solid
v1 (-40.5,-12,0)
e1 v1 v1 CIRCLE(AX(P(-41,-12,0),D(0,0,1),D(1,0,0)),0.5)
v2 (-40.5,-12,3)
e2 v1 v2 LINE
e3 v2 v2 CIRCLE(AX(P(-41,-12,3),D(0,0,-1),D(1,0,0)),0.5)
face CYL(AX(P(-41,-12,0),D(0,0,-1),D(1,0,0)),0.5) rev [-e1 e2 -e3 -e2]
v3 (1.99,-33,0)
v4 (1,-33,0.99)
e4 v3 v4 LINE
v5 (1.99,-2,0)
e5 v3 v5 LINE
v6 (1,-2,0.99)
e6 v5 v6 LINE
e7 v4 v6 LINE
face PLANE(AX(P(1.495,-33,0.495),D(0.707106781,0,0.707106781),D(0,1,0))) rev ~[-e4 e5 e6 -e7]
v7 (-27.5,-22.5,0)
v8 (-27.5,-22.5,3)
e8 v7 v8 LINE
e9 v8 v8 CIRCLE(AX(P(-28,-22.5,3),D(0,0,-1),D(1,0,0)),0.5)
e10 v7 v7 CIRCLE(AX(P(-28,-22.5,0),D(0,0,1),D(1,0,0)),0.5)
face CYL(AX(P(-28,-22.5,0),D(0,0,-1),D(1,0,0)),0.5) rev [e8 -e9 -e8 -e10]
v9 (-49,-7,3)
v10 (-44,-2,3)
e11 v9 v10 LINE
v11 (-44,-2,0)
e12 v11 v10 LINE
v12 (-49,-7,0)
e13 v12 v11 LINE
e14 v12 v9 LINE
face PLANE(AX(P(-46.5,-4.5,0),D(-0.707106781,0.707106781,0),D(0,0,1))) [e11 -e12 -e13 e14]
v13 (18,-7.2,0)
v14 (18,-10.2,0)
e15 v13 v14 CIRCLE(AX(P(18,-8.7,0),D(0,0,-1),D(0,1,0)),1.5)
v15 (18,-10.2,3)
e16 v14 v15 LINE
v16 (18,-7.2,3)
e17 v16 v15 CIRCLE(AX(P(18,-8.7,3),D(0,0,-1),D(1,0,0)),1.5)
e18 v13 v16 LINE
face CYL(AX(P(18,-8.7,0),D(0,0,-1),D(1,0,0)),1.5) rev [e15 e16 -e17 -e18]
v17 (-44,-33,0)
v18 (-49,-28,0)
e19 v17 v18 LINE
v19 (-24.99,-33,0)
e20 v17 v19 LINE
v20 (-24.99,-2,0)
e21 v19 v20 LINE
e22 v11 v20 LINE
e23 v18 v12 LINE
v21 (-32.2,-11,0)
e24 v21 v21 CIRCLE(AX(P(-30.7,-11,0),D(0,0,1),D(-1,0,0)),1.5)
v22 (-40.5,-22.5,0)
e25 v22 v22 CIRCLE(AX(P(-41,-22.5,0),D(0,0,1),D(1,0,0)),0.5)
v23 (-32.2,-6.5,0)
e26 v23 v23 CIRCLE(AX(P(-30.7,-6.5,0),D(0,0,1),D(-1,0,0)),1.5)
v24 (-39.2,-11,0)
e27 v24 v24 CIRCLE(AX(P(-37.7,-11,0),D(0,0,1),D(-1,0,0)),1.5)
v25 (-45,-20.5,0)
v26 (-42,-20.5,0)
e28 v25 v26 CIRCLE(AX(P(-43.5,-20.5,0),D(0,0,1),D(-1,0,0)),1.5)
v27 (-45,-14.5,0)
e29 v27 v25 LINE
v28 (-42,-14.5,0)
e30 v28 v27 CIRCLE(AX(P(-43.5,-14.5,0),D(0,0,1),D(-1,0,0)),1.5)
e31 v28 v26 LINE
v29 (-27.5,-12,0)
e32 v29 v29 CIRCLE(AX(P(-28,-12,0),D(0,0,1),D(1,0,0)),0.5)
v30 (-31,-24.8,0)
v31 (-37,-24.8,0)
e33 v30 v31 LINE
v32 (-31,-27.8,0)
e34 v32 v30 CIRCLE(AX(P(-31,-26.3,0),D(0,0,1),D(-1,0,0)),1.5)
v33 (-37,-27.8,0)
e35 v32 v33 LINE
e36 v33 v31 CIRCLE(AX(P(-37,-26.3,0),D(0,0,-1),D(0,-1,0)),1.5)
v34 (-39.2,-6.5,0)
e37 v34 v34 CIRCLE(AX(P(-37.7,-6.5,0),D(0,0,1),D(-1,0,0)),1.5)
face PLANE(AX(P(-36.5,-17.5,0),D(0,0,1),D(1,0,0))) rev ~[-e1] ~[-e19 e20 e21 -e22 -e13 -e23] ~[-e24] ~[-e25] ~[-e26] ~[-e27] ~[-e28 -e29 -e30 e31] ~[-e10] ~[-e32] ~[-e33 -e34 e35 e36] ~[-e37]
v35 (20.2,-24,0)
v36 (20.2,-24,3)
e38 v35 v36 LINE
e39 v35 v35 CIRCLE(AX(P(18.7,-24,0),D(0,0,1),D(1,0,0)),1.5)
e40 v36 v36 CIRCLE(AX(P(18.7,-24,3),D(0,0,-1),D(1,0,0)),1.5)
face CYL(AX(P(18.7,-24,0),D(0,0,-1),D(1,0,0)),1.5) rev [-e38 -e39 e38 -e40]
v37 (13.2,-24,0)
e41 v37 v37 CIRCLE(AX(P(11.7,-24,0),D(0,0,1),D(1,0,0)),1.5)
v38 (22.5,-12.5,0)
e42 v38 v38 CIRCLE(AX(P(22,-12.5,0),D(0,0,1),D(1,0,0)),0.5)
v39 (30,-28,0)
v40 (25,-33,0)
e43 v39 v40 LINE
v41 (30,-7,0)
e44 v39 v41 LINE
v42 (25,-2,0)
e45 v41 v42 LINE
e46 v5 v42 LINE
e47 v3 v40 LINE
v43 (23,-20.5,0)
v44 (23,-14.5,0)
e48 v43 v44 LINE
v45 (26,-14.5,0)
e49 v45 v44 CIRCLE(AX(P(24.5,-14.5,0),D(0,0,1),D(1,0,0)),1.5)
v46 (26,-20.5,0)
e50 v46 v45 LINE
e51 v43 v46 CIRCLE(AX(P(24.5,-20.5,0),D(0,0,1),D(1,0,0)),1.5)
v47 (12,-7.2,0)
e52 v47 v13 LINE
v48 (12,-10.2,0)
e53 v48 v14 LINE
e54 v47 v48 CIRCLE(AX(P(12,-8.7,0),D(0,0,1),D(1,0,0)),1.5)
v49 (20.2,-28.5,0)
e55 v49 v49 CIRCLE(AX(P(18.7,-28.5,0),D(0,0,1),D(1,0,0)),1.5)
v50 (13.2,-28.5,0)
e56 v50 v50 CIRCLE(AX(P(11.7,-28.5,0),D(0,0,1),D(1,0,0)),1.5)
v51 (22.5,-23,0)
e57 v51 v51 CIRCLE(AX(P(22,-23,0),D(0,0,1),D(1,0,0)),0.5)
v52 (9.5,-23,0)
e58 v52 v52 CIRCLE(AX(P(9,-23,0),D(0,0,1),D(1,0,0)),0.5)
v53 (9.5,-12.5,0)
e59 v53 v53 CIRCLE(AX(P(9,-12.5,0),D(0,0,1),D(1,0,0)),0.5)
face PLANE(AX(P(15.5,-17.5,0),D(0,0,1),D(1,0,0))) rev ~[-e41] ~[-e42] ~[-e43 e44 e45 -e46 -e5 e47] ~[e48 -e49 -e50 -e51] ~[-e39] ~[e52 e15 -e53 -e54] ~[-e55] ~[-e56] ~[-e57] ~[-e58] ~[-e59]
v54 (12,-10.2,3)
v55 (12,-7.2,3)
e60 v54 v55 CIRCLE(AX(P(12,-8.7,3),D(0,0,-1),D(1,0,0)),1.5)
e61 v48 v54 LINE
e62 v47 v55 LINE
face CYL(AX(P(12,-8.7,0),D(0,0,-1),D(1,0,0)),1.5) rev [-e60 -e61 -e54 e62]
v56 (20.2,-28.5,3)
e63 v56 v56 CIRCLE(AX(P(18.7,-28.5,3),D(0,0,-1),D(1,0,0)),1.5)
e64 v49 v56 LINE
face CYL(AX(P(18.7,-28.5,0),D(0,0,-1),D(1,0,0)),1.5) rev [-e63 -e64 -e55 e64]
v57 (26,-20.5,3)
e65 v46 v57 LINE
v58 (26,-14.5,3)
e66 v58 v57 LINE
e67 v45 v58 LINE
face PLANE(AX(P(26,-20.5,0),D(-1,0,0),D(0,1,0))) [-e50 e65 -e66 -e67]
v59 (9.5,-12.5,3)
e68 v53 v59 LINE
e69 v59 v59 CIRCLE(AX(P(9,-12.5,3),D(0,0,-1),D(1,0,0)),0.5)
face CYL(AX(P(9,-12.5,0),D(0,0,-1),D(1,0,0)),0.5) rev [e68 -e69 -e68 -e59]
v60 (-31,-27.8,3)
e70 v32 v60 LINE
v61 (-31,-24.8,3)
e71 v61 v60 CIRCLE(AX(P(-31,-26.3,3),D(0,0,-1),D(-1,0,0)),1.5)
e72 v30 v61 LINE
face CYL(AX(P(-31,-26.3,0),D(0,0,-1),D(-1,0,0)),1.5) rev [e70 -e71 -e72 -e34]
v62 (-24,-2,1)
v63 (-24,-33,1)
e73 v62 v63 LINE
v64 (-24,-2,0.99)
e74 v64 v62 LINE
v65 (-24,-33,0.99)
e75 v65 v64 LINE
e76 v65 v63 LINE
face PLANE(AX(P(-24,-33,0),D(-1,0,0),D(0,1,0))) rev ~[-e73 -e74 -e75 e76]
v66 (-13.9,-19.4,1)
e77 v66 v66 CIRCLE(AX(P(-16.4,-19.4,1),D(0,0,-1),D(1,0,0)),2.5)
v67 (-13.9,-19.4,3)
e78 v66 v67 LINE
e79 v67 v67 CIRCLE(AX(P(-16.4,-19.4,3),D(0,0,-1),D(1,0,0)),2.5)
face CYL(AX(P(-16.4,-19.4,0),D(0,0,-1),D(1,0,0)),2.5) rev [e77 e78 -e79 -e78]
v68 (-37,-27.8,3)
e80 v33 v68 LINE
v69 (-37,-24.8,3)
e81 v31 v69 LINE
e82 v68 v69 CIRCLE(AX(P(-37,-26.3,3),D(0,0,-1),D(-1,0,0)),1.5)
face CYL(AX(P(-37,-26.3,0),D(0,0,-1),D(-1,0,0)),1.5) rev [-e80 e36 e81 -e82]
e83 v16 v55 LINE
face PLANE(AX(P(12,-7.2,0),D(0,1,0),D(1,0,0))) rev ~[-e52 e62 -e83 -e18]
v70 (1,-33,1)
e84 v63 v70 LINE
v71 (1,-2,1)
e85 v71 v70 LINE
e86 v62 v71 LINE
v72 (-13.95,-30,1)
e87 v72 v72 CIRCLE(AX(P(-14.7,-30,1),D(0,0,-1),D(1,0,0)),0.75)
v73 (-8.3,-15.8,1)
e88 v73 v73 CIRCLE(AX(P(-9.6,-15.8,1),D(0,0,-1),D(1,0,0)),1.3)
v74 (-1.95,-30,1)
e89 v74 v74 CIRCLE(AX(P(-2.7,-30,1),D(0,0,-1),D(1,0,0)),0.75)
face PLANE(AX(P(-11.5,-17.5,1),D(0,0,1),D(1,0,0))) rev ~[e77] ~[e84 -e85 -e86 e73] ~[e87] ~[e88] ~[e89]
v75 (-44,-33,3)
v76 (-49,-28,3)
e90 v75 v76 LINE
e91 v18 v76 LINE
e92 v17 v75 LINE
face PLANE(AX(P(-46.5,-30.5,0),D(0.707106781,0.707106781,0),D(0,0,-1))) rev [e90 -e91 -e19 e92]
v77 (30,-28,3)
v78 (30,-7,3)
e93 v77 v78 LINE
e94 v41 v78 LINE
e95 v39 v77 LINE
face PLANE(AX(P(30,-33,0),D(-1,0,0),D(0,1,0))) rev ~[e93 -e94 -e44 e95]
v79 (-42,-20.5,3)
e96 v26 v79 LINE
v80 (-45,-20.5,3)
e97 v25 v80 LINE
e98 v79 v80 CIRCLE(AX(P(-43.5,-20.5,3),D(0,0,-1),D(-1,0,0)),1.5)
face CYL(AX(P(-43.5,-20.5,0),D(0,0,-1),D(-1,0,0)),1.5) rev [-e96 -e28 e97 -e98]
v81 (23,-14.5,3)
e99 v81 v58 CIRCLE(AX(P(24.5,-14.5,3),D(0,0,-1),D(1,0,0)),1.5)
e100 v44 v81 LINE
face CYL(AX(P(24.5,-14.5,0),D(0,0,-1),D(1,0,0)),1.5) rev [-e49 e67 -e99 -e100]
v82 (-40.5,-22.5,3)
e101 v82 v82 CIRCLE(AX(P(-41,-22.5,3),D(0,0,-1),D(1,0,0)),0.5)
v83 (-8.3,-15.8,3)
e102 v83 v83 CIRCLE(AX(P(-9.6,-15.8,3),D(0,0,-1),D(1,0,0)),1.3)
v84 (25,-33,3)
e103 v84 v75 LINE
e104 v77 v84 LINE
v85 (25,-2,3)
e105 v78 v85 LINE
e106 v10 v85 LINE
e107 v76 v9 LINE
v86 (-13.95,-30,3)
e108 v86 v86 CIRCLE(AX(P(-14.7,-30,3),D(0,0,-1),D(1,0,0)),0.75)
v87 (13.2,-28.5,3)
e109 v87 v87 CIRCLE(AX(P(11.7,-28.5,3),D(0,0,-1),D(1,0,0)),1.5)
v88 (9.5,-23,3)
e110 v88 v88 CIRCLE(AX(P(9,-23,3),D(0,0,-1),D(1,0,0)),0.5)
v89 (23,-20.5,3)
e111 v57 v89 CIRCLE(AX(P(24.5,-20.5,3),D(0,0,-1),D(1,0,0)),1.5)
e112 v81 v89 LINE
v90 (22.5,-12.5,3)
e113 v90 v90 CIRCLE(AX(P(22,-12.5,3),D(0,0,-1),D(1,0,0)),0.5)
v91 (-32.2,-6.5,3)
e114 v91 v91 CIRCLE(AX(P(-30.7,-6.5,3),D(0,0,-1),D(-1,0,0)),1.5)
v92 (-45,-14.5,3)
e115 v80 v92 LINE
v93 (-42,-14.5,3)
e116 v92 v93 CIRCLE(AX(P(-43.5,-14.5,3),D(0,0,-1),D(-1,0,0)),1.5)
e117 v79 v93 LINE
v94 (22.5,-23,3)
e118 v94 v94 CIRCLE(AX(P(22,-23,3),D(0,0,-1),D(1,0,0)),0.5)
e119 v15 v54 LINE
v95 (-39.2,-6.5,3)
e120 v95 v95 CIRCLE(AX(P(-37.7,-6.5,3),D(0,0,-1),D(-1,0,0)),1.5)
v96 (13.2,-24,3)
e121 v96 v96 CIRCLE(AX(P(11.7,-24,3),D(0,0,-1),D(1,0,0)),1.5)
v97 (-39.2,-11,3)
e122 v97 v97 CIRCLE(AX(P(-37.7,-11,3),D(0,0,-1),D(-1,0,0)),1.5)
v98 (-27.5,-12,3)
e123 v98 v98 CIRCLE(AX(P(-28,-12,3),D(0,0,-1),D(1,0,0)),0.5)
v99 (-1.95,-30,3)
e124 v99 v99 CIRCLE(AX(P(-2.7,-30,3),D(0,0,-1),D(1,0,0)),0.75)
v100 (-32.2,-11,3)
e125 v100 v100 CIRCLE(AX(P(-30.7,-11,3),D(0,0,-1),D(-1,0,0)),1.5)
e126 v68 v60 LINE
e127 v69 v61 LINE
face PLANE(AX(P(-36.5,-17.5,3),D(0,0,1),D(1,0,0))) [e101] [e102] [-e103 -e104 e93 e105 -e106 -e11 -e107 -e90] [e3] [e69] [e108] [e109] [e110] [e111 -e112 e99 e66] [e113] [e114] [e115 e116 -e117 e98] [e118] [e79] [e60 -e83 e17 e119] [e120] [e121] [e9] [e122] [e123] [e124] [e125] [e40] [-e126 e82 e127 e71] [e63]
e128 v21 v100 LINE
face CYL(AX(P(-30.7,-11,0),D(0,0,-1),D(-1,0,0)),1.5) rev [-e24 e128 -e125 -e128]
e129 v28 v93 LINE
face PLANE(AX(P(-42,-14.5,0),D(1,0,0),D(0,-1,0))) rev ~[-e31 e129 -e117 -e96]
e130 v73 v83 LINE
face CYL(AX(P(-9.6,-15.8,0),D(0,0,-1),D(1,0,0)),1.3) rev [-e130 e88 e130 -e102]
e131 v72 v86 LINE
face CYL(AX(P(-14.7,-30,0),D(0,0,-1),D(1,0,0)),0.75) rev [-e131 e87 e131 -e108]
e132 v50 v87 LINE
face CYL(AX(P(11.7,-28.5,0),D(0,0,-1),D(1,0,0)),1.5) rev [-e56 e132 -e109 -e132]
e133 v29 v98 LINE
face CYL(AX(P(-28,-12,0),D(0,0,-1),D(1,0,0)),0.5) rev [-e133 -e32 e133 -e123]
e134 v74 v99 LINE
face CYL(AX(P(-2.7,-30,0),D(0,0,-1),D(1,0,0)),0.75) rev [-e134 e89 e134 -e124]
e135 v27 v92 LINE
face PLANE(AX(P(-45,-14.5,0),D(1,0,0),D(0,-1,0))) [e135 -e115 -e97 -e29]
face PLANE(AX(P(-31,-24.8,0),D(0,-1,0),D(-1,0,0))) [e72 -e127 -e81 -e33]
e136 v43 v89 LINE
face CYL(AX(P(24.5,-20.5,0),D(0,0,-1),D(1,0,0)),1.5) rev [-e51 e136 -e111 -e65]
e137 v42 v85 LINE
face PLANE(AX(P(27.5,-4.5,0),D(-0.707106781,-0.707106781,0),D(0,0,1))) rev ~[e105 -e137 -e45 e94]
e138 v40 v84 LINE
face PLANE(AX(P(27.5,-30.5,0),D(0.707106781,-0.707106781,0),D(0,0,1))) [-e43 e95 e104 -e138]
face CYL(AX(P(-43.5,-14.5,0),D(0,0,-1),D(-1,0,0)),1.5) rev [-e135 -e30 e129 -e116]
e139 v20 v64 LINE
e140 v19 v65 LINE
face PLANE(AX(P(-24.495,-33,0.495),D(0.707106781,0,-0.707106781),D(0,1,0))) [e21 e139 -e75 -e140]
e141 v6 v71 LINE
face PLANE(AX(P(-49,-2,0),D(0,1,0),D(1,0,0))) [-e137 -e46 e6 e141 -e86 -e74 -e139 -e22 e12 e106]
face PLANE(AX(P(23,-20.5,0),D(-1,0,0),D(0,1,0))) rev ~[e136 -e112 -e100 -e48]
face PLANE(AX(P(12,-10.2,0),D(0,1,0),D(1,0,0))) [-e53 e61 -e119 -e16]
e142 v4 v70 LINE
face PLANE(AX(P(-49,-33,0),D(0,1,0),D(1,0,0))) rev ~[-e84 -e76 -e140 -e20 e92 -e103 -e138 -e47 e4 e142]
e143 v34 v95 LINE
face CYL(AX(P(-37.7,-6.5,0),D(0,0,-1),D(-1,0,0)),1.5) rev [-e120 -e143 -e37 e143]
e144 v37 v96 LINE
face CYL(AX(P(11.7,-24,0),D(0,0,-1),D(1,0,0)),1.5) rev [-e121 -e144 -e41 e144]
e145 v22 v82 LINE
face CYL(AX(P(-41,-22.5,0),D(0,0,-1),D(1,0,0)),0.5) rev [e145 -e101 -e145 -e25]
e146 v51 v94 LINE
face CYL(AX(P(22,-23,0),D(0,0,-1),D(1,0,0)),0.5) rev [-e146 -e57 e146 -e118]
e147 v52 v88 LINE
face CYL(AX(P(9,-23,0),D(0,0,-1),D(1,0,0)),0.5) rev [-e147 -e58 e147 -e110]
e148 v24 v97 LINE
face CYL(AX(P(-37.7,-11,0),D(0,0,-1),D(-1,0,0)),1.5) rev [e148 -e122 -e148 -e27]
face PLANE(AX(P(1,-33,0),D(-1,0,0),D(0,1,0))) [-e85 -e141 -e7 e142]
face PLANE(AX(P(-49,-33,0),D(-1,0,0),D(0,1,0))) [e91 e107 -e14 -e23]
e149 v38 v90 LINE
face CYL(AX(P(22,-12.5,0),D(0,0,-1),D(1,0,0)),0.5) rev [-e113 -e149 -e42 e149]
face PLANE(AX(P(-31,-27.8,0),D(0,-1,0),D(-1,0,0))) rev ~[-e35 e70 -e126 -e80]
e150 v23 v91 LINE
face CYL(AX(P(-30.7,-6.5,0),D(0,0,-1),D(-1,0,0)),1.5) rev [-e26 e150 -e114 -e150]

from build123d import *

# Parameters (mm, degrees)
CYLINDER025_R             = 0.5
CYLINDER025_DEPTH         = 10
CYLINDER026_R             = 0.5
CYLINDER026_DEPTH         = 10
CYLINDER027_R             = 0.5
CYLINDER027_DEPTH         = 10
CYLINDER024_R             = 0.5
CYLINDER024_DEPTH         = 10
CYLINDER007_R             = 1.5
CYLINDER007_DEPTH         = 10
CYLINDER008_R             = 1.5
CYLINDER008_DEPTH         = 10
CYLINDER009_R             = 1.5
CYLINDER009_DEPTH         = 10
CYLINDER006_R             = 1.5
CYLINDER006_DEPTH         = 10
BOX002_W                  = 3
BOX002_H                  = 6
BOX002_DEPTH              = 10
CYLINDER010_R             = 1.5
CYLINDER010_DEPTH         = 10
CYLINDER011_R             = 1.5
CYLINDER011_DEPTH         = 10
CYLINDER005_R             = 1.5
CYLINDER005_DEPTH         = 10
BOX001_W                  = 6
BOX001_H                  = 3
BOX001_DEPTH              = 10
CYLINDER004_R             = 1.5
CYLINDER004_DEPTH         = 10
BOX005_W                  = 29
BOX005_H                  = 31
BOX005_DEPTH              = 3
CYLINDER021_R             = 0.5
CYLINDER021_DEPTH         = 10
CYLINDER022_R             = 0.5
CYLINDER022_DEPTH         = 10
CYLINDER023_R             = 0.5
CYLINDER023_DEPTH         = 10
CYLINDER020_R             = 0.5
CYLINDER020_DEPTH         = 10
CYLINDER016_R             = 1.5
CYLINDER016_DEPTH         = 10
CYLINDER015_R             = 1.5
CYLINDER015_DEPTH         = 10
CYLINDER018_R             = 1.5
CYLINDER018_DEPTH         = 10
CYLINDER014_R             = 1.5
CYLINDER014_DEPTH         = 10
BOX004_W                  = 3
BOX004_H                  = 6
BOX004_DEPTH              = 10
CYLINDER017_R             = 1.5
CYLINDER017_DEPTH         = 10
CYLINDER019_R             = 1.5
CYLINDER019_DEPTH         = 10
CYLINDER012_R             = 1.5
CYLINDER012_DEPTH         = 10
BOX003_W                  = 6
BOX003_H                  = 3
BOX003_DEPTH              = 10
CYLINDER013_R             = 1.5
CYLINDER013_DEPTH         = 10
FUSION008_PLACEMENT_ANGLE = 180
BOX006_W                  = 25
BOX006_H                  = 31
BOX006_DEPTH              = 3
CYLINDER003_R             = 0.75
CYLINDER003_DEPTH         = 10
CYLINDER002_R             = 0.75
CYLINDER002_DEPTH         = 10
CYLINDER001_R             = 1.3
CYLINDER001_DEPTH         = 10
CYLINDER_R                = 2.5
CYLINDER_DEPTH            = 10
BOX_W                     = 27
BOX_H                     = 31
BOX_DEPTH                 = 2
CHAMFER_SIZE              = 5
CHAMFER001_SIZE           = 5
CHAMFER002_SIZE           = 0.99


with BuildPart() as zylinder025:
    # Cylinder025 → Cylinder025 (new body)
    with BuildSketch(Plane(origin=(-41, -22.5, 0), x_dir=(1, 0, 0), z_dir=(0, 0, 1))):
        Circle(CYLINDER025_R)
    extrude(amount=CYLINDER025_DEPTH)


with BuildPart() as zylinder026:
    # Cylinder026 → Cylinder026 (new body)
    with BuildSketch(Plane(origin=(-28, -12, 0), x_dir=(1, 0, 0), z_dir=(0, 0, 1))):
        Circle(CYLINDER026_R)
    extrude(amount=CYLINDER026_DEPTH)


with BuildPart() as zylinder027:
    # Cylinder027 → Cylinder027 (new body)
    with BuildSketch(Plane(origin=(-28, -22.5, 0), x_dir=(1, 0, 0), z_dir=(0, 0, 1))):
        Circle(CYLINDER027_R)
    extrude(amount=CYLINDER027_DEPTH)


with BuildPart() as fusion010:
    # Cylinder024 → Cylinder024 (new body)
    with BuildSketch(Plane(origin=(-41, -12, 0), x_dir=(1, 0, 0), z_dir=(0, 0, 1))):
        Circle(CYLINDER024_R)
    extrude(amount=CYLINDER024_DEPTH)

    # Fusion010: union Zylinder025, Zylinder026, Zylinder027
    add(zylinder025.part)
    add(zylinder026.part)
    add(zylinder027.part)


with BuildPart() as fusion010_1:
    # Fusion010 placement: moved
    add(fusion010.part.moved(Location((50, -0.5, 0))))


with BuildPart() as zylinder007:
    # Cylinder007 → Cylinder007 (new body)
    with BuildSketch(Plane(origin=(18.7, -24, 0), x_dir=(1, 0, 0), z_dir=(0, 0, 1))):
        Circle(CYLINDER007_R)
    extrude(amount=CYLINDER007_DEPTH)


with BuildPart() as zylinder008:
    # Cylinder008 → Cylinder008 (new body)
    with BuildSketch(Plane(origin=(18.7, -28.5, 0), x_dir=(1, 0, 0), z_dir=(0, 0, 1))):
        Circle(CYLINDER008_R)
    extrude(amount=CYLINDER008_DEPTH)


with BuildPart() as zylinder009:
    # Cylinder009 → Cylinder009 (new body)
    with BuildSketch(Plane(origin=(11.7, -28.5, 0), x_dir=(1, 0, 0), z_dir=(0, 0, 1))):
        Circle(CYLINDER009_R)
    extrude(amount=CYLINDER009_DEPTH)


with BuildPart() as fusion002:
    # Cylinder006 → Cylinder006 (new body)
    with BuildSketch(Plane(origin=(11.7, -24, 0), x_dir=(1, 0, 0), z_dir=(0, 0, 1))):
        Circle(CYLINDER006_R)
    extrude(amount=CYLINDER006_DEPTH)

    # Fusion002: union Zylinder007, Zylinder008, Zylinder009
    add(zylinder007.part)
    add(zylinder008.part)
    add(zylinder009.part)


with BuildPart() as w_rfel002:
    # Box002 → Box002 (new body)
    with BuildSketch(Plane(origin=(23, -20.5, 0), x_dir=(1, 0, 0), z_dir=(0, 0, 1))):
        with Locations((1.5, 3)):
            Rectangle(BOX002_W, BOX002_H)
    extrude(amount=BOX002_DEPTH)


with BuildPart() as zylinder010:
    # Cylinder010 → Cylinder010 (new body)
    with BuildSketch(Plane(origin=(24.5, -14.5, 0), x_dir=(1, 0, 0), z_dir=(0, 0, 1))):
        Circle(CYLINDER010_R)
    extrude(amount=CYLINDER010_DEPTH)


with BuildPart() as fusion003:
    # Cylinder011 → Cylinder011 (new body)
    with BuildSketch(Plane(origin=(24.5, -20.5, 0), x_dir=(1, 0, 0), z_dir=(0, 0, 1))):
        Circle(CYLINDER011_R)
    extrude(amount=CYLINDER011_DEPTH)

    # Fusion003: union Würfel002, Zylinder010
    add(w_rfel002.part)
    add(zylinder010.part)


with BuildPart() as zylinder005:
    # Cylinder005 → Cylinder005 (new body)
    with BuildSketch(Plane(origin=(18, -8.7, 0), x_dir=(1, 0, 0), z_dir=(0, 0, 1))):
        Circle(CYLINDER005_R)
    extrude(amount=CYLINDER005_DEPTH)


with BuildPart() as w_rfel001:
    # Box001 → Box001 (new body)
    with BuildSketch(Plane(origin=(12, -10.2, 0), x_dir=(1, 0, 0), z_dir=(0, 0, 1))):
        with Locations((3, 1.5)):
            Rectangle(BOX001_W, BOX001_H)
    extrude(amount=BOX001_DEPTH)


with BuildPart() as fusion011:
    # Cylinder004 → Cylinder004 (new body)
    with BuildSketch(Plane(origin=(12, -8.7, 0), x_dir=(1, 0, 0), z_dir=(0, 0, 1))):
        Circle(CYLINDER004_R)
    extrude(amount=CYLINDER004_DEPTH)

    # Fusion001: union Zylinder005, Würfel001
    add(zylinder005.part)
    add(w_rfel001.part)

    # Fusion004: union Fusion002, Fusion003
    add(fusion002.part)
    add(fusion003.part)

    # Fusion011: union Fusion010
    add(fusion010_1.part)


with BuildPart() as cut003:
    # Box005 → Box005 (new body)
    with BuildSketch(Plane(origin=(1, -33, 0), x_dir=(1, 0, 0), z_dir=(0, 0, 1))):
        with Locations((14.5, 15.5)):
            Rectangle(BOX005_W, BOX005_H)
    extrude(amount=BOX005_DEPTH)

    # Cut003: cut Fusion011
    add(fusion011.part, mode=Mode.SUBTRACT)


with BuildPart() as zylinder021:
    # Cylinder021 → Cylinder021 (new body)
    with BuildSketch(Plane(origin=(-41, -22.5, 0), x_dir=(1, 0, 0), z_dir=(0, 0, 1))):
        Circle(CYLINDER021_R)
    extrude(amount=CYLINDER021_DEPTH)


with BuildPart() as zylinder022:
    # Cylinder022 → Cylinder022 (new body)
    with BuildSketch(Plane(origin=(-28, -12, 0), x_dir=(1, 0, 0), z_dir=(0, 0, 1))):
        Circle(CYLINDER022_R)
    extrude(amount=CYLINDER022_DEPTH)


with BuildPart() as zylinder023:
    # Cylinder023 → Cylinder023 (new body)
    with BuildSketch(Plane(origin=(-28, -22.5, 0), x_dir=(1, 0, 0), z_dir=(0, 0, 1))):
        Circle(CYLINDER023_R)
    extrude(amount=CYLINDER023_DEPTH)


with BuildPart() as fusion009:
    # Cylinder020 → Cylinder020 (new body)
    with BuildSketch(Plane(origin=(-41, -12, 0), x_dir=(1, 0, 0), z_dir=(0, 0, 1))):
        Circle(CYLINDER020_R)
    extrude(amount=CYLINDER020_DEPTH)

    # Fusion009: union Zylinder021, Zylinder022, Zylinder023
    add(zylinder021.part)
    add(zylinder022.part)
    add(zylinder023.part)


with BuildPart() as zylinder016:
    # Cylinder016 → Cylinder016 (new body)
    with BuildSketch(Plane(origin=(18.7, -24, 0), x_dir=(1, 0, 0), z_dir=(0, 0, 1))):
        Circle(CYLINDER016_R)
    extrude(amount=CYLINDER016_DEPTH)


with BuildPart() as zylinder015:
    # Cylinder015 → Cylinder015 (new body)
    with BuildSketch(Plane(origin=(18.7, -28.5, 0), x_dir=(1, 0, 0), z_dir=(0, 0, 1))):
        Circle(CYLINDER015_R)
    extrude(amount=CYLINDER015_DEPTH)


with BuildPart() as zylinder018:
    # Cylinder018 → Cylinder018 (new body)
    with BuildSketch(Plane(origin=(11.7, -28.5, 0), x_dir=(1, 0, 0), z_dir=(0, 0, 1))):
        Circle(CYLINDER018_R)
    extrude(amount=CYLINDER018_DEPTH)


with BuildPart() as fusion006:
    # Cylinder014 → Cylinder014 (new body)
    with BuildSketch(Plane(origin=(11.7, -24, 0), x_dir=(1, 0, 0), z_dir=(0, 0, 1))):
        Circle(CYLINDER014_R)
    extrude(amount=CYLINDER014_DEPTH)

    # Fusion006: union Zylinder016, Zylinder015, Zylinder018
    add(zylinder016.part)
    add(zylinder015.part)
    add(zylinder018.part)


with BuildPart() as w_rfel004:
    # Box004 → Box004 (new body)
    with BuildSketch(Plane(origin=(23, -20.5, 0), x_dir=(1, 0, 0), z_dir=(0, 0, 1))):
        with Locations((1.5, 3)):
            Rectangle(BOX004_W, BOX004_H)
    extrude(amount=BOX004_DEPTH)


with BuildPart() as zylinder017:
    # Cylinder017 → Cylinder017 (new body)
    with BuildSketch(Plane(origin=(24.5, -14.5, 0), x_dir=(1, 0, 0), z_dir=(0, 0, 1))):
        Circle(CYLINDER017_R)
    extrude(amount=CYLINDER017_DEPTH)


with BuildPart() as fusion007:
    # Cylinder019 → Cylinder019 (new body)
    with BuildSketch(Plane(origin=(24.5, -20.5, 0), x_dir=(1, 0, 0), z_dir=(0, 0, 1))):
        Circle(CYLINDER019_R)
    extrude(amount=CYLINDER019_DEPTH)

    # Fusion007: union Würfel004, Zylinder017
    add(w_rfel004.part)
    add(zylinder017.part)


with BuildPart() as zylinder012:
    # Cylinder012 → Cylinder012 (new body)
    with BuildSketch(Plane(origin=(18, -8.7, 0), x_dir=(1, 0, 0), z_dir=(0, 0, 1))):
        Circle(CYLINDER012_R)
    extrude(amount=CYLINDER012_DEPTH)


with BuildPart() as w_rfel003:
    # Box003 → Box003 (new body)
    with BuildSketch(Plane(origin=(12, -10.2, 0), x_dir=(1, 0, 0), z_dir=(0, 0, 1))):
        with Locations((3, 1.5)):
            Rectangle(BOX003_W, BOX003_H)
    extrude(amount=BOX003_DEPTH)


with BuildPart() as fusion012:
    # Cylinder013 → Cylinder013 (new body)
    with BuildSketch(Plane(origin=(12, -8.7, 0), x_dir=(1, 0, 0), z_dir=(0, 0, 1))):
        Circle(CYLINDER013_R)
    extrude(amount=CYLINDER013_DEPTH)

    # Fusion005: union Zylinder012, Würfel003
    add(zylinder012.part)
    add(w_rfel003.part)

    # Fusion008: union Fusion006, Fusion007
    add(fusion006.part)
    add(fusion007.part)


with BuildPart() as fusion012_1:
    # Fusion008 placement: moved
    add(fusion012.part.moved(Location((-19, -35, 0))).rotate(Axis((-19, -35, 0), (0, 0, 1)), FUSION008_PLACEMENT_ANGLE))

    # Fusion012: union Fusion009
    add(fusion009.part)


with BuildPart() as cut004:
    # Box006 → Box006 (new body)
    with BuildSketch(Plane(origin=(-49, -33, 0), x_dir=(1, 0, 0), z_dir=(0, 0, 1))):
        with Locations((12.5, 15.5)):
            Rectangle(BOX006_W, BOX006_H)
    extrude(amount=BOX006_DEPTH)

    # Cut004: cut Fusion012
    add(fusion012_1.part, mode=Mode.SUBTRACT)


with BuildPart() as zylinder003:
    # Cylinder003 → Cylinder003 (new body)
    with BuildSketch(Plane(origin=(-14.7, -30, 0), x_dir=(1, 0, 0), z_dir=(0, 0, 1))):
        Circle(CYLINDER003_R)
    extrude(amount=CYLINDER003_DEPTH)


with BuildPart() as fusion:
    # Cylinder002 → Cylinder002 (new body)
    with BuildSketch(Plane(origin=(-2.7, -30, 0), x_dir=(1, 0, 0), z_dir=(0, 0, 1))):
        Circle(CYLINDER002_R)
    extrude(amount=CYLINDER002_DEPTH)

    # Fusion: union Zylinder003
    add(zylinder003.part)


with BuildPart() as zylinder001:
    # Cylinder001 → Cylinder001 (new body)
    with BuildSketch(Plane(origin=(-9.6, -15.8, 0), x_dir=(1, 0, 0), z_dir=(0, 0, 1))):
        Circle(CYLINDER001_R)
    extrude(amount=CYLINDER001_DEPTH)


with BuildPart() as zylinder:
    # Cylinder → Cylinder (new body)
    with BuildSketch(Plane(origin=(-16.4, -19.4, 0), x_dir=(1, 0, 0), z_dir=(0, 0, 1))):
        Circle(CYLINDER_R)
    extrude(amount=CYLINDER_DEPTH)


with BuildPart() as plate:
    # Box → Box (new body)
    with BuildSketch(Plane(origin=(-25, -33, 1), x_dir=(1, 0, 0), z_dir=(0, 0, 1))):
        with Locations((13.5, 15.5)):
            Rectangle(BOX_W, BOX_H)
    extrude(amount=BOX_DEPTH)

    # Cut: cut Zylinder
    add(zylinder.part, mode=Mode.SUBTRACT)

    # Cut001: cut Zylinder001
    add(zylinder001.part, mode=Mode.SUBTRACT)

    # Cut002: cut Fusion
    add(fusion.part, mode=Mode.SUBTRACT)

    # Fusion013: union Cut003, Cut004
    add(cut003.part)
    add(cut004.part)

    # Chamfer
    chamfer_edges = [plate.edges().sort_by_distance(p)[0] for p in [
        (30, -33, 1.5),
        (30, -2, 1.5),
    ]]
    chamfer(chamfer_edges, length=CHAMFER_SIZE)

    # Chamfer001
    chamfer001_edges = [plate.edges().sort_by_distance(p)[0] for p in [
        (-49, -33, 1.5),
        (-49, -2, 1.5),
    ]]
    chamfer(chamfer001_edges, length=CHAMFER001_SIZE)

    # Chamfer002
    chamfer002_edges = [plate.edges().sort_by_distance(p)[0] for p in [
        (-24, -17.5, 0),
        (1, -17.5, 0),
    ]]
    chamfer(chamfer002_edges, length=CHAMFER002_SIZE)


solid = plate.part
